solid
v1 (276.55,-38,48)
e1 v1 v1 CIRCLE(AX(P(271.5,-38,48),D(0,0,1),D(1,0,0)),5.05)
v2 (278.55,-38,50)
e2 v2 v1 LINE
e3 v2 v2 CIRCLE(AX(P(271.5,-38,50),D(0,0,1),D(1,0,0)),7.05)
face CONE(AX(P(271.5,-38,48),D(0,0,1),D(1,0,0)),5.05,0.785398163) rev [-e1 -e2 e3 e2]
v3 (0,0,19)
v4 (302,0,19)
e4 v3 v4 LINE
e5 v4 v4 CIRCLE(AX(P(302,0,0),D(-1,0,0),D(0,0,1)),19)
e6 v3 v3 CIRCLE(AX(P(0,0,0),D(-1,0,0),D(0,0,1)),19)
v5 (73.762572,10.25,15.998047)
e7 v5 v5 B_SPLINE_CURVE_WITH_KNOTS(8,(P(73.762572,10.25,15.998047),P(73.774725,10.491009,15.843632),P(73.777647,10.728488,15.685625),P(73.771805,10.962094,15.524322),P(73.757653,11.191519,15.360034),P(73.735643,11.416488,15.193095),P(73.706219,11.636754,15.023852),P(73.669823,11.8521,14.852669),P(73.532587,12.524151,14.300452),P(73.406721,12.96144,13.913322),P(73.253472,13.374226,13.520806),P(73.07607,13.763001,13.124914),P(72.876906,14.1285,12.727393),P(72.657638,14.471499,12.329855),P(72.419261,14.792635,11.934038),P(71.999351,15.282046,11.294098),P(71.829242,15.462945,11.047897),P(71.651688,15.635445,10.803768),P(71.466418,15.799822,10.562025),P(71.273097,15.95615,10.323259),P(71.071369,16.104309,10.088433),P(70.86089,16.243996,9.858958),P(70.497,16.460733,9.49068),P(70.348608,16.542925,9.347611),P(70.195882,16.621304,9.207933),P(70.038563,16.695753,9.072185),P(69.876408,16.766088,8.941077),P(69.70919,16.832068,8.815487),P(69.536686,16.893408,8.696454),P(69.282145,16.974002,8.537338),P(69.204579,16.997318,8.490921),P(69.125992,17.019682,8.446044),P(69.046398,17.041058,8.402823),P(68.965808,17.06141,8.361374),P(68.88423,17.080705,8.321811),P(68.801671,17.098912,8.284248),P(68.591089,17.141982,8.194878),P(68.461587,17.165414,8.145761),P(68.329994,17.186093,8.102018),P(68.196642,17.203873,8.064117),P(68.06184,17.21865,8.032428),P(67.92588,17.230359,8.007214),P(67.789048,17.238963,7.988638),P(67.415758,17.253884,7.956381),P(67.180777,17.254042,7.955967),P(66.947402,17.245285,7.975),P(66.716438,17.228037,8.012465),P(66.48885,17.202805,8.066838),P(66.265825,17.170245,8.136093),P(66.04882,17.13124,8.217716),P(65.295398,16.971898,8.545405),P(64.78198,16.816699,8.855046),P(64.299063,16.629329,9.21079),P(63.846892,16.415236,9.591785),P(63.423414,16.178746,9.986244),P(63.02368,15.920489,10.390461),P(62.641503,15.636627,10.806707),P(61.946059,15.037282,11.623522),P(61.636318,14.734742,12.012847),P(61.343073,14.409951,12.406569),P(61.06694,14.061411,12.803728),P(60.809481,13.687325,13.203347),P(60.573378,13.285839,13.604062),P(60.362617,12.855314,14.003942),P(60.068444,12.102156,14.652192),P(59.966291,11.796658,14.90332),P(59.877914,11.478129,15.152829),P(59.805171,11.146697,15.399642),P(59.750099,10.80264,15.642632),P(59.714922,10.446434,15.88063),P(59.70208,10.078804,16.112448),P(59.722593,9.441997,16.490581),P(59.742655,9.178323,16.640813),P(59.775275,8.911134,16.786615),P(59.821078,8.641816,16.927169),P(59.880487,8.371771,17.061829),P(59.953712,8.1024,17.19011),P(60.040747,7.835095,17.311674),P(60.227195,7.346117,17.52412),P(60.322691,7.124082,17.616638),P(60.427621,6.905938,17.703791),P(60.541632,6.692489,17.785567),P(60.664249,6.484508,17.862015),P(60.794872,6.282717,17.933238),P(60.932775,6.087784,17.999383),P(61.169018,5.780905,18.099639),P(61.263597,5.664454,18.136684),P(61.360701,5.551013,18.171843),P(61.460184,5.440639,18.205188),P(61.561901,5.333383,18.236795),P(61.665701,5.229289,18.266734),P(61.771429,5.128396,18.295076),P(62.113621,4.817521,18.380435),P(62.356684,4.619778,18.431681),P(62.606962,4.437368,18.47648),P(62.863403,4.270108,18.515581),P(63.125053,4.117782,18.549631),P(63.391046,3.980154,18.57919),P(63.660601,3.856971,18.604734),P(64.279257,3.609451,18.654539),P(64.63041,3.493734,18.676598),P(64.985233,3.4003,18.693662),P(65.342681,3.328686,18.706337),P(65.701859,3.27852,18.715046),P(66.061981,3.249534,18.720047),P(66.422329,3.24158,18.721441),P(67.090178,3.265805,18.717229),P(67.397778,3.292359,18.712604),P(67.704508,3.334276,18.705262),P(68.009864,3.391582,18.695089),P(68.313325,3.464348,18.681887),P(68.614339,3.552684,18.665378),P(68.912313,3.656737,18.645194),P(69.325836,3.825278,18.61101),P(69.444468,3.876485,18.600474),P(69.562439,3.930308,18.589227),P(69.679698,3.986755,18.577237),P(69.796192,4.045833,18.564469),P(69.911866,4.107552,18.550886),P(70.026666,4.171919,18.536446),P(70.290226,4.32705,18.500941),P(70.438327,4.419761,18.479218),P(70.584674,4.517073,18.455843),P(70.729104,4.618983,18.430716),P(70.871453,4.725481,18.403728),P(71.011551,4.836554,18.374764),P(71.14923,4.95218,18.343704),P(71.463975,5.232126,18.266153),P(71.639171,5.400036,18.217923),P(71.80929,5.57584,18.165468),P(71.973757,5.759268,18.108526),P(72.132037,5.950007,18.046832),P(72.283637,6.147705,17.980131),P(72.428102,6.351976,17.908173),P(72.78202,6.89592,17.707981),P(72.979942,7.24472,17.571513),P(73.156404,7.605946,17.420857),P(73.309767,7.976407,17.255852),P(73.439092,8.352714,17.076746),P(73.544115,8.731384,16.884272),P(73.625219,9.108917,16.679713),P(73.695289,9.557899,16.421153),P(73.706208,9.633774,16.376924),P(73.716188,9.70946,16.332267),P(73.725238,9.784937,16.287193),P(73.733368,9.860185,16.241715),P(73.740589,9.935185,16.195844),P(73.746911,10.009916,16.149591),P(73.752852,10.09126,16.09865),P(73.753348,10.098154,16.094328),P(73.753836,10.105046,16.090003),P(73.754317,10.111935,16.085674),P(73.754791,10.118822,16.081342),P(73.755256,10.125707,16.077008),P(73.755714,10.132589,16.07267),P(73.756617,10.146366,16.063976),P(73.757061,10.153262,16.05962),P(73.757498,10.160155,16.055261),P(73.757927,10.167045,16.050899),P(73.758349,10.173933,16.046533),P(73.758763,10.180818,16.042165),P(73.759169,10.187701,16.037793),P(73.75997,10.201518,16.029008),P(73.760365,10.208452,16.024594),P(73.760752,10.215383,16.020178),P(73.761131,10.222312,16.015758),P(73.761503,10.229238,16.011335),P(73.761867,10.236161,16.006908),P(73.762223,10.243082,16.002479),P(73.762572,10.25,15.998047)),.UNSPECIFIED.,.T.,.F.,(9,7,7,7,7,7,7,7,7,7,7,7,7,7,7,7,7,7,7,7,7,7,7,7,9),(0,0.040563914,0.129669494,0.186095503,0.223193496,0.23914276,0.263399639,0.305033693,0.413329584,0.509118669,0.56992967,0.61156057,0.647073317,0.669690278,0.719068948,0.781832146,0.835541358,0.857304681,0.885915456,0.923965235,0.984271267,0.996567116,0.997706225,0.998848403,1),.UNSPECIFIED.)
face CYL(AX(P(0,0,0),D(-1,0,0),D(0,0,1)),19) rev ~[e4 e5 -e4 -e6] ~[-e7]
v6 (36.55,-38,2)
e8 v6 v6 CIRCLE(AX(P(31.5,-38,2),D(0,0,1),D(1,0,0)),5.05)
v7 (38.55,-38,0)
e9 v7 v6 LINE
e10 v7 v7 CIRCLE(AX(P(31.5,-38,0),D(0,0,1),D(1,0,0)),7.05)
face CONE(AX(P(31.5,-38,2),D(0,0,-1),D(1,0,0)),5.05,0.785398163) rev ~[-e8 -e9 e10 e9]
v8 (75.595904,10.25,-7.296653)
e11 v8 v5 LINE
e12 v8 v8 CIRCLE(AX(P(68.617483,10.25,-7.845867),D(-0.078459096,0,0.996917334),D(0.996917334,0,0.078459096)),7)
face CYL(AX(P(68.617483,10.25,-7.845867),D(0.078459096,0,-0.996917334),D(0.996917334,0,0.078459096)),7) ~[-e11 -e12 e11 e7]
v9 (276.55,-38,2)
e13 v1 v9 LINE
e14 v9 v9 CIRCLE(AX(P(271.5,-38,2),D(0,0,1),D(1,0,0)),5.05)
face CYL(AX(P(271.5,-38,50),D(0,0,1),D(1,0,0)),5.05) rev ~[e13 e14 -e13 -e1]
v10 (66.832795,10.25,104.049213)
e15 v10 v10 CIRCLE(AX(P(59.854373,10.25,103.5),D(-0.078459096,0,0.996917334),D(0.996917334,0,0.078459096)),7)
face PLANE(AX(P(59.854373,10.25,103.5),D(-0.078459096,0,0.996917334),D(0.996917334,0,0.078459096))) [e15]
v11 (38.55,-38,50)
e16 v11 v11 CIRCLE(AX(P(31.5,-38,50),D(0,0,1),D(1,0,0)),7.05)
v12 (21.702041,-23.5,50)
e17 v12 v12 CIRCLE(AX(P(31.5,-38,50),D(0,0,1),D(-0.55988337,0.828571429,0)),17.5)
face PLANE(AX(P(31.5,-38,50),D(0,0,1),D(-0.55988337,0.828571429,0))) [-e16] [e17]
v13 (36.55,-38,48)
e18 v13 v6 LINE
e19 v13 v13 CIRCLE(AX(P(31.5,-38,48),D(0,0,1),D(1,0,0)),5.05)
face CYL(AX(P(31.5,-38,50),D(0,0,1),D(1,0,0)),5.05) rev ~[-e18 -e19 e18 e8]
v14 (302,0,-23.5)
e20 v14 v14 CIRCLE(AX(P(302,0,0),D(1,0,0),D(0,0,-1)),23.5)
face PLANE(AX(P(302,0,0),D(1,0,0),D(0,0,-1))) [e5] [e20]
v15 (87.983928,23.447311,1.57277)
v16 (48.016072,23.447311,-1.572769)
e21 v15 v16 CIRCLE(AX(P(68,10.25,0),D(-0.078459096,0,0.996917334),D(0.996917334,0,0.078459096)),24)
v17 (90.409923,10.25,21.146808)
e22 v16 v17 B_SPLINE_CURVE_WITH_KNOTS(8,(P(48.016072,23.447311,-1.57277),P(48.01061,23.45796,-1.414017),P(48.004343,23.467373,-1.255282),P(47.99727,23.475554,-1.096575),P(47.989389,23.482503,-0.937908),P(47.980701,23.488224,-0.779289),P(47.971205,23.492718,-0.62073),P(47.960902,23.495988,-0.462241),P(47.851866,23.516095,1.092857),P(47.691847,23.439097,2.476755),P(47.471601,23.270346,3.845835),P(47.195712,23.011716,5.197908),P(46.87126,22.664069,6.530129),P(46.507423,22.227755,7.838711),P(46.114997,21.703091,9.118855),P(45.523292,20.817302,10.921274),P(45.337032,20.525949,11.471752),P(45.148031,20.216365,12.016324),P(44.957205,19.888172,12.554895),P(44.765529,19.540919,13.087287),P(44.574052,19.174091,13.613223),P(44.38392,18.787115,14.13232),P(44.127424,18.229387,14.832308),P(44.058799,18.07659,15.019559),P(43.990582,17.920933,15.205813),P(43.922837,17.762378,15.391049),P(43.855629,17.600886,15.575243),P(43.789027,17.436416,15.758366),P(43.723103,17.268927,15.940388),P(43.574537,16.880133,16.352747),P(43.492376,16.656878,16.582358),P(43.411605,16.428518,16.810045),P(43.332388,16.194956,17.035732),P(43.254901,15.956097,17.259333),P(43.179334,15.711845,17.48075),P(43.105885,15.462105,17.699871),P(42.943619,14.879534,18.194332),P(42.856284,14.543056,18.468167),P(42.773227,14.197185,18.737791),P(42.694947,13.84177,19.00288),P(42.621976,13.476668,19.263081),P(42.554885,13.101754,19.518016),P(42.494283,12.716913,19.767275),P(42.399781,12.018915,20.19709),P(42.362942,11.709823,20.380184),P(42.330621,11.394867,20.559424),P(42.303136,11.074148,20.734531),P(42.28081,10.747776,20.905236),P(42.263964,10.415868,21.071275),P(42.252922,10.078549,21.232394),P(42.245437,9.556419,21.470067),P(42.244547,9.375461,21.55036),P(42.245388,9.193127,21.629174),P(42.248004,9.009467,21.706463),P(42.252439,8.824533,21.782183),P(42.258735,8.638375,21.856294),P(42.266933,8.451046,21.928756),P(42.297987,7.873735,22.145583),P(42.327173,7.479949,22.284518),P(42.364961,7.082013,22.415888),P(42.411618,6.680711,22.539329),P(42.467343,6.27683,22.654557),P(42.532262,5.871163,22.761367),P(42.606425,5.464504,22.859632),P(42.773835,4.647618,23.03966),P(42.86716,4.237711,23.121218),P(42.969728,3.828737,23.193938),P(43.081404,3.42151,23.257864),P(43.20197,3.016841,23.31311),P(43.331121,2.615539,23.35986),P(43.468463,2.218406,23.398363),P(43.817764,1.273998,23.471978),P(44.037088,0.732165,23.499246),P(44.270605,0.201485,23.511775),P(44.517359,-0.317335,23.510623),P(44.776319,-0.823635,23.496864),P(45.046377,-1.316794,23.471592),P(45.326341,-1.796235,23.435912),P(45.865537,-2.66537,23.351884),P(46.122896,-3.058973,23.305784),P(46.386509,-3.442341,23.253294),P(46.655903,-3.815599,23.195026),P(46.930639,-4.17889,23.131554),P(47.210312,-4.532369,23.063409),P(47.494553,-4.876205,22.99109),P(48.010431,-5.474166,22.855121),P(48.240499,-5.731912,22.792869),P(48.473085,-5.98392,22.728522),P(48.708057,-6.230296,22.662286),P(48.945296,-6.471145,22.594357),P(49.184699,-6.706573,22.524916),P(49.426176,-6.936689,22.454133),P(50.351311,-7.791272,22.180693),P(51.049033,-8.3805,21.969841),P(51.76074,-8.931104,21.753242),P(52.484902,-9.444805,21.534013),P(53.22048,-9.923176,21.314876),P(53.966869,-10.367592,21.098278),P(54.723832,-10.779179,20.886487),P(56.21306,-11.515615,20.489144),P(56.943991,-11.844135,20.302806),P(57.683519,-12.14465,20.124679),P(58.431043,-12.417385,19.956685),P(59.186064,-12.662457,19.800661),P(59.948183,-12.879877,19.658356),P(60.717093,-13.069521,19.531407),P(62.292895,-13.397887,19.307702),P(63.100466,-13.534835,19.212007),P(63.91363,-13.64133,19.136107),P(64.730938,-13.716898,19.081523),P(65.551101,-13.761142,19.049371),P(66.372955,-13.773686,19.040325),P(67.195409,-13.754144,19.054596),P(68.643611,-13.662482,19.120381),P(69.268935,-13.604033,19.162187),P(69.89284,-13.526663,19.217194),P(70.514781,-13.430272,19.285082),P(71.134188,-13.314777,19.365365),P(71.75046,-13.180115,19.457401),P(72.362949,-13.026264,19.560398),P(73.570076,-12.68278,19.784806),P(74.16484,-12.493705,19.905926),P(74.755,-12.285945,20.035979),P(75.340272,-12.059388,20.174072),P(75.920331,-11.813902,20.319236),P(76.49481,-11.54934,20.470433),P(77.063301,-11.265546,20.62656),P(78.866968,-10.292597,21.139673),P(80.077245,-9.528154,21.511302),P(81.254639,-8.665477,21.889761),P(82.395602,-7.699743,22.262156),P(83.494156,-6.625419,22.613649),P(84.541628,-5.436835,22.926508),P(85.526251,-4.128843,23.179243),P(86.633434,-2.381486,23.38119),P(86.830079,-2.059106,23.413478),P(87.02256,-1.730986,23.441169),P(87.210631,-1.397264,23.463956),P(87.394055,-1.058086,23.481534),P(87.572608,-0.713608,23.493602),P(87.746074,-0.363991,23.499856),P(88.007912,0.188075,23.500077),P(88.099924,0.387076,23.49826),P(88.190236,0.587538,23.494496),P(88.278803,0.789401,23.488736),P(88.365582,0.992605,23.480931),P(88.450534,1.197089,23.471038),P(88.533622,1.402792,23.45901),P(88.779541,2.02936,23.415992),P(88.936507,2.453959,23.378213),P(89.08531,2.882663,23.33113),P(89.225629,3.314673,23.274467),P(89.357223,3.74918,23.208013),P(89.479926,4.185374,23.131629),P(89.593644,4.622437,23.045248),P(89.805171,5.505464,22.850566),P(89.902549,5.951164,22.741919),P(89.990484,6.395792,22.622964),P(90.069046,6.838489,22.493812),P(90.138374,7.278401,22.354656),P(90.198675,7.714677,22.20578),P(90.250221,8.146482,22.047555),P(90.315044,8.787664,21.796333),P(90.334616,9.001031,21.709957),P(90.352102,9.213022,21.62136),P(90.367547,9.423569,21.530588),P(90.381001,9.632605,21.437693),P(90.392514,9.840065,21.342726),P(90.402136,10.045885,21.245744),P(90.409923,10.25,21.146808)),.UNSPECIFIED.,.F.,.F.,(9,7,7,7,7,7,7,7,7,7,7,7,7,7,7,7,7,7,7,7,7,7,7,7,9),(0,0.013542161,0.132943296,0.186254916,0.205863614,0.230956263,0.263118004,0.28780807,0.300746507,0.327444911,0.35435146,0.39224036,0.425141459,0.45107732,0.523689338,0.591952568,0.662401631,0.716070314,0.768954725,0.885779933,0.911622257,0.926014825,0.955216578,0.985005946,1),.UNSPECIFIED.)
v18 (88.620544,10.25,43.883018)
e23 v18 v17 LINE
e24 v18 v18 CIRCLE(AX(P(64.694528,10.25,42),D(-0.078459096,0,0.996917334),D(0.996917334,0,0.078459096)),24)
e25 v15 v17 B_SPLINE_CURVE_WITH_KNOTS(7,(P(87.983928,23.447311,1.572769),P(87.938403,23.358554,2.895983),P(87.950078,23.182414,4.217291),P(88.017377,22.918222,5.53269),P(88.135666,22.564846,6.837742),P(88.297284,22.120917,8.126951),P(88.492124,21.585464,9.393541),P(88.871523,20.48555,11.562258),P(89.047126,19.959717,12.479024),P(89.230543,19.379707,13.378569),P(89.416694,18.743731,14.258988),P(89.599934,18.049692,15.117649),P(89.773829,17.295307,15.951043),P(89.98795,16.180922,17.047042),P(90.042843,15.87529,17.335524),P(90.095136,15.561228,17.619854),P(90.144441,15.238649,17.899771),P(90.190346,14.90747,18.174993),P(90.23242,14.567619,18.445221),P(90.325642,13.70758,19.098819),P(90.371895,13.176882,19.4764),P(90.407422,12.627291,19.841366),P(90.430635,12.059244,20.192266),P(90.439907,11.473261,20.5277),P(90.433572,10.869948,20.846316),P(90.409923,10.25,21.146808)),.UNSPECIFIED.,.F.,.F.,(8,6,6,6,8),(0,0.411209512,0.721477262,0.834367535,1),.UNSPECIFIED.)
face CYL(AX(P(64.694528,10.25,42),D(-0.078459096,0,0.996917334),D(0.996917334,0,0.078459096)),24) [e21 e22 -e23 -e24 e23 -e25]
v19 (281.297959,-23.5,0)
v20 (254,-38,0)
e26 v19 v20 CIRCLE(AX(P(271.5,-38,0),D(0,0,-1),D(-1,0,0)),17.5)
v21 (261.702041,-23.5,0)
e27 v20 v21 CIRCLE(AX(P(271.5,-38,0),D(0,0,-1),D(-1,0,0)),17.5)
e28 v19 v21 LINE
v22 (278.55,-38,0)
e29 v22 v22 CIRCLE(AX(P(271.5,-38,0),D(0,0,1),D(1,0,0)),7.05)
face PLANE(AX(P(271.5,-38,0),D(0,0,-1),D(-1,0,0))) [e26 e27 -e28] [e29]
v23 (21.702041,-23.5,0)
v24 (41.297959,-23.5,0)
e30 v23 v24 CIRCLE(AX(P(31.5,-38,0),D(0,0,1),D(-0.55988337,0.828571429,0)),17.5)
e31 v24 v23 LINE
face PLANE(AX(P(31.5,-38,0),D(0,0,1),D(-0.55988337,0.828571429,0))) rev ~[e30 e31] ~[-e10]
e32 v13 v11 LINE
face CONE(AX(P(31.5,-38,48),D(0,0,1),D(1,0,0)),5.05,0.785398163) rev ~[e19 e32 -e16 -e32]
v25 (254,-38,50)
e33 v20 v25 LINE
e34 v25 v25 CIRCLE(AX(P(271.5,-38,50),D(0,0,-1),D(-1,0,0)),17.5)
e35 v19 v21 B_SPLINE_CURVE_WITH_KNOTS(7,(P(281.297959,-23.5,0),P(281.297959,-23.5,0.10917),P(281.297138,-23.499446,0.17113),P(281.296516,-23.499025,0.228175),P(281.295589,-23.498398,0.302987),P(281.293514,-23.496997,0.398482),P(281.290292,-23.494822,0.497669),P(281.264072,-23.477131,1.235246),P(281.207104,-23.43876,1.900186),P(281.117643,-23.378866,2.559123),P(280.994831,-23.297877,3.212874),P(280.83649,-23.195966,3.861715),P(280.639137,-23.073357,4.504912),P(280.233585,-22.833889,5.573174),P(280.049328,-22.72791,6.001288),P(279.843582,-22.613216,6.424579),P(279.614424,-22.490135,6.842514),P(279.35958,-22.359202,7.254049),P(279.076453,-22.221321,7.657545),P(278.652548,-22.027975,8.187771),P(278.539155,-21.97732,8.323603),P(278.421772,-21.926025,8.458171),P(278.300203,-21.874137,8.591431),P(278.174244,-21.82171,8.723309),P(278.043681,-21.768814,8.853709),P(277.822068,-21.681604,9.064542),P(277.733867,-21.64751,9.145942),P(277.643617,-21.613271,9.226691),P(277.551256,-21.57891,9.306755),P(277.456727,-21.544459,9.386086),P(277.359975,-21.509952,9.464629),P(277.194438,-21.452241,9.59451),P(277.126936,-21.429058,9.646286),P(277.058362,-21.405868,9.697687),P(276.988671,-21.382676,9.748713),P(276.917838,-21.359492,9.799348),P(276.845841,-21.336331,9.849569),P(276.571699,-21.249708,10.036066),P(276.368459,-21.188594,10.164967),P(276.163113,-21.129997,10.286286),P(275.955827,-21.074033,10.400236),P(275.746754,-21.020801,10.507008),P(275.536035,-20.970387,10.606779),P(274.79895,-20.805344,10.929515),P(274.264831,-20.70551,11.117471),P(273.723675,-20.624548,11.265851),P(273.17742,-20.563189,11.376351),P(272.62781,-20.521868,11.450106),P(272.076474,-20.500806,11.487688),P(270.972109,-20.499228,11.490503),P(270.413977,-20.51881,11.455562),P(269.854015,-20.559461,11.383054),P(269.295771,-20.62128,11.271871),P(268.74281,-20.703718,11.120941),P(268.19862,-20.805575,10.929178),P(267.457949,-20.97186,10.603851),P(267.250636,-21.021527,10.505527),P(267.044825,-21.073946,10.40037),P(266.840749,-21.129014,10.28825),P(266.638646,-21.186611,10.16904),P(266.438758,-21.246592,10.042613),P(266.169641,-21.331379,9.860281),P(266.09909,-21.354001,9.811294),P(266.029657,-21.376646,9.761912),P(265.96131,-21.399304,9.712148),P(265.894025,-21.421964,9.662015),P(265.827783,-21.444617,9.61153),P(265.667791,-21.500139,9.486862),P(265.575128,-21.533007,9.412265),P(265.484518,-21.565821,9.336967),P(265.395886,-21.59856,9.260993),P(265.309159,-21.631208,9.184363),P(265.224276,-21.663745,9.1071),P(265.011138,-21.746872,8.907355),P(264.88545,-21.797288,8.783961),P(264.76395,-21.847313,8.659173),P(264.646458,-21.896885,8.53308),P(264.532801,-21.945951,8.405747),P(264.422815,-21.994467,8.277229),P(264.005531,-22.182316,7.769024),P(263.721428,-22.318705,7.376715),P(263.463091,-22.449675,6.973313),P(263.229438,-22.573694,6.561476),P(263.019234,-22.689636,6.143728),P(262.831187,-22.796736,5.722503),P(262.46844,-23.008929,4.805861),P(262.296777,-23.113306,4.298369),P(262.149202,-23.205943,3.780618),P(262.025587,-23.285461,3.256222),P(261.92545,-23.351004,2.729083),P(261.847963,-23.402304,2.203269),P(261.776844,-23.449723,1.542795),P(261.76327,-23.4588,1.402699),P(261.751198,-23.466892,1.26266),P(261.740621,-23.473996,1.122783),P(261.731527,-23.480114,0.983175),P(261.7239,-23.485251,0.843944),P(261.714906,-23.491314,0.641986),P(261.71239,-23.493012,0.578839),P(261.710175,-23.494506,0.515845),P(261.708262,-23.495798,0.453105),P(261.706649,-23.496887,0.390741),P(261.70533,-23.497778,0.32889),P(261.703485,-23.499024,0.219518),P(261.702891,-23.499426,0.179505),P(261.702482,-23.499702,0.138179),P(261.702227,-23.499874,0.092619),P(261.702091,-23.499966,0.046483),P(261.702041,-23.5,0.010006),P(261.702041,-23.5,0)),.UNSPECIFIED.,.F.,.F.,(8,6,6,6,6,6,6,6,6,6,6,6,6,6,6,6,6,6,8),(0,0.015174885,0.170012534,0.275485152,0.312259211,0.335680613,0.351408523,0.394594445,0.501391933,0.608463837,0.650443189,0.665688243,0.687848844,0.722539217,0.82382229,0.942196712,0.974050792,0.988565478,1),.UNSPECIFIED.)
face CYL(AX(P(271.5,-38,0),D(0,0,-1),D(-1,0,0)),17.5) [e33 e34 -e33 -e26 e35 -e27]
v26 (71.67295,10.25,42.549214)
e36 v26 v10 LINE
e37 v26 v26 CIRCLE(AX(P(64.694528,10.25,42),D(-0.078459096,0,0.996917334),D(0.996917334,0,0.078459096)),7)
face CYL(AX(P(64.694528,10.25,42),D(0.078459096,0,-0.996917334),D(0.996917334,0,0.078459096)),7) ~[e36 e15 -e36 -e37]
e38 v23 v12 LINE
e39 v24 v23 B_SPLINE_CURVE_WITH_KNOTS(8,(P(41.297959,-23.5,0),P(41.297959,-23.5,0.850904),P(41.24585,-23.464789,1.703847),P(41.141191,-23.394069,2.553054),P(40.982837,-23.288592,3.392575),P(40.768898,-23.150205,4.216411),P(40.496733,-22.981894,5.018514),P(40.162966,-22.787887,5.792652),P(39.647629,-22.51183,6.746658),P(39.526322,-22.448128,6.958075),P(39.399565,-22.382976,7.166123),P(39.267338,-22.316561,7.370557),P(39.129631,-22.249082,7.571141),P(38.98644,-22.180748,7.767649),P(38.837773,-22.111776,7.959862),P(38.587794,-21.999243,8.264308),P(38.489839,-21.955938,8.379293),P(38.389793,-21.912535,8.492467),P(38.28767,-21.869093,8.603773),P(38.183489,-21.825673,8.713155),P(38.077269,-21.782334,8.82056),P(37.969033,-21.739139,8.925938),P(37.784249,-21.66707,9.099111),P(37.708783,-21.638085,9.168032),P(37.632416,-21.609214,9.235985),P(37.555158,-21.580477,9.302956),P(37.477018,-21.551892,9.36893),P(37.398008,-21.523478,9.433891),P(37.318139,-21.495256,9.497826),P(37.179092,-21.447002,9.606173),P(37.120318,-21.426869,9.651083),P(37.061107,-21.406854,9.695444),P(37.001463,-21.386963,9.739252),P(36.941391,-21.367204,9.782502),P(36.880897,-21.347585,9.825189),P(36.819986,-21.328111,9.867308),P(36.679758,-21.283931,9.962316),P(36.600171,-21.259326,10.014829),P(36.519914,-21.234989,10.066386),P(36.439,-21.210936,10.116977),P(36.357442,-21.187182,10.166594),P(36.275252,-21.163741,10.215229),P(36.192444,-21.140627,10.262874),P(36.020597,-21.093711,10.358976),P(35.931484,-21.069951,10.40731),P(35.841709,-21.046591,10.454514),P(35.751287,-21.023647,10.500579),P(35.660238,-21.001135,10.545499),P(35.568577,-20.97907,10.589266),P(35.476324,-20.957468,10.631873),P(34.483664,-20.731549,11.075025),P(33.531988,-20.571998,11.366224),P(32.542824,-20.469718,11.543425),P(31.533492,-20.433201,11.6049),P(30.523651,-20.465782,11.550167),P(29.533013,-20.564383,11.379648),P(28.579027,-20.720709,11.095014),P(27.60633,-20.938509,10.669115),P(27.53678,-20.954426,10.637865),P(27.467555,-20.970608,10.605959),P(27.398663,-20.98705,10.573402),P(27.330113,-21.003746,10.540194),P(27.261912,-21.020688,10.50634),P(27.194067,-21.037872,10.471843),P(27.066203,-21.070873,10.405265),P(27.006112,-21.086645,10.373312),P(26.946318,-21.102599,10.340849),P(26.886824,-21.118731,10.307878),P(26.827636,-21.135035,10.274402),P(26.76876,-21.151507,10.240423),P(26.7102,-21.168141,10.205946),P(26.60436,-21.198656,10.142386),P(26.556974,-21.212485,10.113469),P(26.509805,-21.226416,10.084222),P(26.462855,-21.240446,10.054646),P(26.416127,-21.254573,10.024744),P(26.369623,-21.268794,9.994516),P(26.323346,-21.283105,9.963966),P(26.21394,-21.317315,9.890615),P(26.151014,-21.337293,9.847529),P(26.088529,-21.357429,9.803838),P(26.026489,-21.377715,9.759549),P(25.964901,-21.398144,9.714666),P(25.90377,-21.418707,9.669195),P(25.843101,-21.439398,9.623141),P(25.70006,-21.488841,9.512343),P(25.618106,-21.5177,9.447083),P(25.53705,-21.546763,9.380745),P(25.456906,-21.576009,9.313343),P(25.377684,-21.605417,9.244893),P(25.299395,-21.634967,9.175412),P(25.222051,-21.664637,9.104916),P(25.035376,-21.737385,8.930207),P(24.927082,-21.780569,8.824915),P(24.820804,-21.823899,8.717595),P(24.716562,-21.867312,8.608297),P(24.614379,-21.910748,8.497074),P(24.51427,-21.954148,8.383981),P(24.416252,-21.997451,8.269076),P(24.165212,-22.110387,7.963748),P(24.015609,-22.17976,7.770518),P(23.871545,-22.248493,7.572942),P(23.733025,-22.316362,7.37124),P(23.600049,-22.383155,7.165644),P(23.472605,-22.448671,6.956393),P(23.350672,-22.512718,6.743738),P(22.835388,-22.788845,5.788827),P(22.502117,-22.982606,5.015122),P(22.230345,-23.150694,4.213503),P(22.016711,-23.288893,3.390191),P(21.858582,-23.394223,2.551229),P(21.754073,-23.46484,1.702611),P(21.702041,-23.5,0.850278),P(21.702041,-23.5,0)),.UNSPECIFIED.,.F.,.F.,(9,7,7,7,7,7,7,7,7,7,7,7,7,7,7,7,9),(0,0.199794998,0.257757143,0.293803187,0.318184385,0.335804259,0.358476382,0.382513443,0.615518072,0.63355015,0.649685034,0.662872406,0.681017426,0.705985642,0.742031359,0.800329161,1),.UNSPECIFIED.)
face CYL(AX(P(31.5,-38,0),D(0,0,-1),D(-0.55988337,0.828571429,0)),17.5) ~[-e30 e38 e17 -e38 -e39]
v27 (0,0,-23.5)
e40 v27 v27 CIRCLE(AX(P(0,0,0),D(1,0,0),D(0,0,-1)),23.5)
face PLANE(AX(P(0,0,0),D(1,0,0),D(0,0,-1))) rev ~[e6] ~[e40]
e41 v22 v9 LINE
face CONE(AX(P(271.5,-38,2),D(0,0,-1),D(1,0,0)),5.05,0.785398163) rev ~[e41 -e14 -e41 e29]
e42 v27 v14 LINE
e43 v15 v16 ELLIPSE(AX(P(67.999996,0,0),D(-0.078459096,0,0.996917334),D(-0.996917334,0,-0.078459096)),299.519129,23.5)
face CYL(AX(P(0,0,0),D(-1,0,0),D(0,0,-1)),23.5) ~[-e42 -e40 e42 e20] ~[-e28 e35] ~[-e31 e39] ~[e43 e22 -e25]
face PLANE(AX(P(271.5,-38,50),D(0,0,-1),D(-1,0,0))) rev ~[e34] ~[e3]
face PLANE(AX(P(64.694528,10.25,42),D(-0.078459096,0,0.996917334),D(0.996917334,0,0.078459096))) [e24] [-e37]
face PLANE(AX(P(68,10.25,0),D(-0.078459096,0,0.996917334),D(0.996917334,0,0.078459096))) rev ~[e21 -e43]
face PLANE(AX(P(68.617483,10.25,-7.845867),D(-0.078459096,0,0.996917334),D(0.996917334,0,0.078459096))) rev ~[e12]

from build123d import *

# Parameters (mm, degrees)
SZKIC1_R                    = 23.5
DODANIE_WYCI_GNI_CIE1_DEPTH = 302
SZKIC2_R                    = 17.5
DODANIE_WYCI_GNI_CIE2_DEPTH = 50
SZKIC4_R                    = 17.5
DODANIE_WYCI_GNI_CIE3_DEPTH = 50
SZKIC5_R                    = 5.05
WYTNIJ_WYCI_GNI_CIE1_DEPTH  = 50
SFAZOWANIE1_SIZE            = 2
SZKIC8_R                    = 24
DODANIE_WYCI_GNI_CIE4_DEPTH = 42.129872
SZKIC12_R                   = 7
DODANIE_WYCI_GNI_CIE5_DEPTH = 61.69017
SZKIC6_R                    = 19
WYTNIJ_WYCI_GNI_CIE2_DEPTH  = 302
DODANIE_WYCI_GNI_CIE6_START = -50
SZKIC13_R                   = 7
DODANIE_WYCI_GNI_CIE6_DEPTH = 50


with BuildPart() as part:
    # Szkic1 → Dodanie-wyciągnięcie1 (new body)
    with BuildSketch(Plane(origin=(0, 0, 0), x_dir=(0, 0, -1), z_dir=(1, 0, 0))):
        Circle(SZKIC1_R)
    extrude(amount=DODANIE_WYCI_GNI_CIE1_DEPTH)

    # Szkic2 → Dodanie-wyciągnięcie2 (add)
    with BuildSketch(Plane.XY):
        with Locations(Location((31.5, -38, 0), (0, 0, 124.04773237))):
            Circle(SZKIC2_R)
    extrude(amount=DODANIE_WYCI_GNI_CIE2_DEPTH)

    # Szkic4 → Dodanie-wyciągnięcie3 (add)
    with BuildSketch(Plane(origin=(0, 0, 0), x_dir=(-1, 0, 0), z_dir=(0, 0, -1))):
        with Locations((-271.5, -38)):
            Circle(SZKIC4_R)
    extrude(amount=-DODANIE_WYCI_GNI_CIE3_DEPTH)

    # Szkic5 → Wytnij-wyciągnięcie1 (cut)
    with BuildSketch(Plane.XY.offset(50)):
        with Locations((31.5, -38)):
            Circle(SZKIC5_R)
        with Locations((271.5, -38)):
            Circle(SZKIC5_R)
    extrude(amount=-WYTNIJ_WYCI_GNI_CIE1_DEPTH, mode=Mode.SUBTRACT)

    # Sfazowanie1
    sfazowanie1_edges = [part.edges().sort_by_distance(p)[0] for p in [
        (26.45, -38, 0),
        (26.45, -38, 50),
        (266.45, -38, 0),
        (266.45, -38, 50),
    ]]
    chamfer(sfazowanie1_edges, length=SFAZOWANIE1_SIZE)

    # Szkic8 → Dodanie-wyciągnięcie4 (add)
    with BuildSketch(Plane(origin=(64.694528313, 23.5, 42), x_dir=(0.9969173337331281, 0, 0.07845909572784458), z_dir=(-0.07845909572784458, 0, 0.9969173337331281))):
        with Locations((0, -13.25)):
            Circle(SZKIC8_R)
    extrude(amount=-DODANIE_WYCI_GNI_CIE4_DEPTH)

    # Szkic12 → Dodanie-wyciągnięcie5 (add)
    with BuildSketch(Plane(origin=(-2.886875267, 0, 36.681228189), x_dir=(0.9969173337331281, 0, 0.07845909572784461), z_dir=(-0.07845909572784461, 0, 0.9969173337331281))):
        with Locations((67.790378694, 10.25)):
            Circle(SZKIC12_R)
    extrude(amount=DODANIE_WYCI_GNI_CIE5_DEPTH)

    # Szkic6 → Wytnij-wyciągnięcie2 (cut)
    with BuildSketch(Plane.ZY):
        Circle(SZKIC6_R)
    extrude(amount=-WYTNIJ_WYCI_GNI_CIE2_DEPTH, mode=Mode.SUBTRACT)

    # Szkic13 → Dodanie-wyciągnięcie6 (add)
    with BuildSketch(Plane(origin=(64.694528313, 23.5, 42), x_dir=(0.9969173337331281, 0, 0.07845909572784458), z_dir=(-0.07845909572784458, 0, 0.9969173337331281)).offset(DODANIE_WYCI_GNI_CIE6_START)):
        with Locations((0, -13.25)):
            Circle(SZKIC13_R)
    extrude(amount=DODANIE_WYCI_GNI_CIE6_DEPTH)


solid = part.part
